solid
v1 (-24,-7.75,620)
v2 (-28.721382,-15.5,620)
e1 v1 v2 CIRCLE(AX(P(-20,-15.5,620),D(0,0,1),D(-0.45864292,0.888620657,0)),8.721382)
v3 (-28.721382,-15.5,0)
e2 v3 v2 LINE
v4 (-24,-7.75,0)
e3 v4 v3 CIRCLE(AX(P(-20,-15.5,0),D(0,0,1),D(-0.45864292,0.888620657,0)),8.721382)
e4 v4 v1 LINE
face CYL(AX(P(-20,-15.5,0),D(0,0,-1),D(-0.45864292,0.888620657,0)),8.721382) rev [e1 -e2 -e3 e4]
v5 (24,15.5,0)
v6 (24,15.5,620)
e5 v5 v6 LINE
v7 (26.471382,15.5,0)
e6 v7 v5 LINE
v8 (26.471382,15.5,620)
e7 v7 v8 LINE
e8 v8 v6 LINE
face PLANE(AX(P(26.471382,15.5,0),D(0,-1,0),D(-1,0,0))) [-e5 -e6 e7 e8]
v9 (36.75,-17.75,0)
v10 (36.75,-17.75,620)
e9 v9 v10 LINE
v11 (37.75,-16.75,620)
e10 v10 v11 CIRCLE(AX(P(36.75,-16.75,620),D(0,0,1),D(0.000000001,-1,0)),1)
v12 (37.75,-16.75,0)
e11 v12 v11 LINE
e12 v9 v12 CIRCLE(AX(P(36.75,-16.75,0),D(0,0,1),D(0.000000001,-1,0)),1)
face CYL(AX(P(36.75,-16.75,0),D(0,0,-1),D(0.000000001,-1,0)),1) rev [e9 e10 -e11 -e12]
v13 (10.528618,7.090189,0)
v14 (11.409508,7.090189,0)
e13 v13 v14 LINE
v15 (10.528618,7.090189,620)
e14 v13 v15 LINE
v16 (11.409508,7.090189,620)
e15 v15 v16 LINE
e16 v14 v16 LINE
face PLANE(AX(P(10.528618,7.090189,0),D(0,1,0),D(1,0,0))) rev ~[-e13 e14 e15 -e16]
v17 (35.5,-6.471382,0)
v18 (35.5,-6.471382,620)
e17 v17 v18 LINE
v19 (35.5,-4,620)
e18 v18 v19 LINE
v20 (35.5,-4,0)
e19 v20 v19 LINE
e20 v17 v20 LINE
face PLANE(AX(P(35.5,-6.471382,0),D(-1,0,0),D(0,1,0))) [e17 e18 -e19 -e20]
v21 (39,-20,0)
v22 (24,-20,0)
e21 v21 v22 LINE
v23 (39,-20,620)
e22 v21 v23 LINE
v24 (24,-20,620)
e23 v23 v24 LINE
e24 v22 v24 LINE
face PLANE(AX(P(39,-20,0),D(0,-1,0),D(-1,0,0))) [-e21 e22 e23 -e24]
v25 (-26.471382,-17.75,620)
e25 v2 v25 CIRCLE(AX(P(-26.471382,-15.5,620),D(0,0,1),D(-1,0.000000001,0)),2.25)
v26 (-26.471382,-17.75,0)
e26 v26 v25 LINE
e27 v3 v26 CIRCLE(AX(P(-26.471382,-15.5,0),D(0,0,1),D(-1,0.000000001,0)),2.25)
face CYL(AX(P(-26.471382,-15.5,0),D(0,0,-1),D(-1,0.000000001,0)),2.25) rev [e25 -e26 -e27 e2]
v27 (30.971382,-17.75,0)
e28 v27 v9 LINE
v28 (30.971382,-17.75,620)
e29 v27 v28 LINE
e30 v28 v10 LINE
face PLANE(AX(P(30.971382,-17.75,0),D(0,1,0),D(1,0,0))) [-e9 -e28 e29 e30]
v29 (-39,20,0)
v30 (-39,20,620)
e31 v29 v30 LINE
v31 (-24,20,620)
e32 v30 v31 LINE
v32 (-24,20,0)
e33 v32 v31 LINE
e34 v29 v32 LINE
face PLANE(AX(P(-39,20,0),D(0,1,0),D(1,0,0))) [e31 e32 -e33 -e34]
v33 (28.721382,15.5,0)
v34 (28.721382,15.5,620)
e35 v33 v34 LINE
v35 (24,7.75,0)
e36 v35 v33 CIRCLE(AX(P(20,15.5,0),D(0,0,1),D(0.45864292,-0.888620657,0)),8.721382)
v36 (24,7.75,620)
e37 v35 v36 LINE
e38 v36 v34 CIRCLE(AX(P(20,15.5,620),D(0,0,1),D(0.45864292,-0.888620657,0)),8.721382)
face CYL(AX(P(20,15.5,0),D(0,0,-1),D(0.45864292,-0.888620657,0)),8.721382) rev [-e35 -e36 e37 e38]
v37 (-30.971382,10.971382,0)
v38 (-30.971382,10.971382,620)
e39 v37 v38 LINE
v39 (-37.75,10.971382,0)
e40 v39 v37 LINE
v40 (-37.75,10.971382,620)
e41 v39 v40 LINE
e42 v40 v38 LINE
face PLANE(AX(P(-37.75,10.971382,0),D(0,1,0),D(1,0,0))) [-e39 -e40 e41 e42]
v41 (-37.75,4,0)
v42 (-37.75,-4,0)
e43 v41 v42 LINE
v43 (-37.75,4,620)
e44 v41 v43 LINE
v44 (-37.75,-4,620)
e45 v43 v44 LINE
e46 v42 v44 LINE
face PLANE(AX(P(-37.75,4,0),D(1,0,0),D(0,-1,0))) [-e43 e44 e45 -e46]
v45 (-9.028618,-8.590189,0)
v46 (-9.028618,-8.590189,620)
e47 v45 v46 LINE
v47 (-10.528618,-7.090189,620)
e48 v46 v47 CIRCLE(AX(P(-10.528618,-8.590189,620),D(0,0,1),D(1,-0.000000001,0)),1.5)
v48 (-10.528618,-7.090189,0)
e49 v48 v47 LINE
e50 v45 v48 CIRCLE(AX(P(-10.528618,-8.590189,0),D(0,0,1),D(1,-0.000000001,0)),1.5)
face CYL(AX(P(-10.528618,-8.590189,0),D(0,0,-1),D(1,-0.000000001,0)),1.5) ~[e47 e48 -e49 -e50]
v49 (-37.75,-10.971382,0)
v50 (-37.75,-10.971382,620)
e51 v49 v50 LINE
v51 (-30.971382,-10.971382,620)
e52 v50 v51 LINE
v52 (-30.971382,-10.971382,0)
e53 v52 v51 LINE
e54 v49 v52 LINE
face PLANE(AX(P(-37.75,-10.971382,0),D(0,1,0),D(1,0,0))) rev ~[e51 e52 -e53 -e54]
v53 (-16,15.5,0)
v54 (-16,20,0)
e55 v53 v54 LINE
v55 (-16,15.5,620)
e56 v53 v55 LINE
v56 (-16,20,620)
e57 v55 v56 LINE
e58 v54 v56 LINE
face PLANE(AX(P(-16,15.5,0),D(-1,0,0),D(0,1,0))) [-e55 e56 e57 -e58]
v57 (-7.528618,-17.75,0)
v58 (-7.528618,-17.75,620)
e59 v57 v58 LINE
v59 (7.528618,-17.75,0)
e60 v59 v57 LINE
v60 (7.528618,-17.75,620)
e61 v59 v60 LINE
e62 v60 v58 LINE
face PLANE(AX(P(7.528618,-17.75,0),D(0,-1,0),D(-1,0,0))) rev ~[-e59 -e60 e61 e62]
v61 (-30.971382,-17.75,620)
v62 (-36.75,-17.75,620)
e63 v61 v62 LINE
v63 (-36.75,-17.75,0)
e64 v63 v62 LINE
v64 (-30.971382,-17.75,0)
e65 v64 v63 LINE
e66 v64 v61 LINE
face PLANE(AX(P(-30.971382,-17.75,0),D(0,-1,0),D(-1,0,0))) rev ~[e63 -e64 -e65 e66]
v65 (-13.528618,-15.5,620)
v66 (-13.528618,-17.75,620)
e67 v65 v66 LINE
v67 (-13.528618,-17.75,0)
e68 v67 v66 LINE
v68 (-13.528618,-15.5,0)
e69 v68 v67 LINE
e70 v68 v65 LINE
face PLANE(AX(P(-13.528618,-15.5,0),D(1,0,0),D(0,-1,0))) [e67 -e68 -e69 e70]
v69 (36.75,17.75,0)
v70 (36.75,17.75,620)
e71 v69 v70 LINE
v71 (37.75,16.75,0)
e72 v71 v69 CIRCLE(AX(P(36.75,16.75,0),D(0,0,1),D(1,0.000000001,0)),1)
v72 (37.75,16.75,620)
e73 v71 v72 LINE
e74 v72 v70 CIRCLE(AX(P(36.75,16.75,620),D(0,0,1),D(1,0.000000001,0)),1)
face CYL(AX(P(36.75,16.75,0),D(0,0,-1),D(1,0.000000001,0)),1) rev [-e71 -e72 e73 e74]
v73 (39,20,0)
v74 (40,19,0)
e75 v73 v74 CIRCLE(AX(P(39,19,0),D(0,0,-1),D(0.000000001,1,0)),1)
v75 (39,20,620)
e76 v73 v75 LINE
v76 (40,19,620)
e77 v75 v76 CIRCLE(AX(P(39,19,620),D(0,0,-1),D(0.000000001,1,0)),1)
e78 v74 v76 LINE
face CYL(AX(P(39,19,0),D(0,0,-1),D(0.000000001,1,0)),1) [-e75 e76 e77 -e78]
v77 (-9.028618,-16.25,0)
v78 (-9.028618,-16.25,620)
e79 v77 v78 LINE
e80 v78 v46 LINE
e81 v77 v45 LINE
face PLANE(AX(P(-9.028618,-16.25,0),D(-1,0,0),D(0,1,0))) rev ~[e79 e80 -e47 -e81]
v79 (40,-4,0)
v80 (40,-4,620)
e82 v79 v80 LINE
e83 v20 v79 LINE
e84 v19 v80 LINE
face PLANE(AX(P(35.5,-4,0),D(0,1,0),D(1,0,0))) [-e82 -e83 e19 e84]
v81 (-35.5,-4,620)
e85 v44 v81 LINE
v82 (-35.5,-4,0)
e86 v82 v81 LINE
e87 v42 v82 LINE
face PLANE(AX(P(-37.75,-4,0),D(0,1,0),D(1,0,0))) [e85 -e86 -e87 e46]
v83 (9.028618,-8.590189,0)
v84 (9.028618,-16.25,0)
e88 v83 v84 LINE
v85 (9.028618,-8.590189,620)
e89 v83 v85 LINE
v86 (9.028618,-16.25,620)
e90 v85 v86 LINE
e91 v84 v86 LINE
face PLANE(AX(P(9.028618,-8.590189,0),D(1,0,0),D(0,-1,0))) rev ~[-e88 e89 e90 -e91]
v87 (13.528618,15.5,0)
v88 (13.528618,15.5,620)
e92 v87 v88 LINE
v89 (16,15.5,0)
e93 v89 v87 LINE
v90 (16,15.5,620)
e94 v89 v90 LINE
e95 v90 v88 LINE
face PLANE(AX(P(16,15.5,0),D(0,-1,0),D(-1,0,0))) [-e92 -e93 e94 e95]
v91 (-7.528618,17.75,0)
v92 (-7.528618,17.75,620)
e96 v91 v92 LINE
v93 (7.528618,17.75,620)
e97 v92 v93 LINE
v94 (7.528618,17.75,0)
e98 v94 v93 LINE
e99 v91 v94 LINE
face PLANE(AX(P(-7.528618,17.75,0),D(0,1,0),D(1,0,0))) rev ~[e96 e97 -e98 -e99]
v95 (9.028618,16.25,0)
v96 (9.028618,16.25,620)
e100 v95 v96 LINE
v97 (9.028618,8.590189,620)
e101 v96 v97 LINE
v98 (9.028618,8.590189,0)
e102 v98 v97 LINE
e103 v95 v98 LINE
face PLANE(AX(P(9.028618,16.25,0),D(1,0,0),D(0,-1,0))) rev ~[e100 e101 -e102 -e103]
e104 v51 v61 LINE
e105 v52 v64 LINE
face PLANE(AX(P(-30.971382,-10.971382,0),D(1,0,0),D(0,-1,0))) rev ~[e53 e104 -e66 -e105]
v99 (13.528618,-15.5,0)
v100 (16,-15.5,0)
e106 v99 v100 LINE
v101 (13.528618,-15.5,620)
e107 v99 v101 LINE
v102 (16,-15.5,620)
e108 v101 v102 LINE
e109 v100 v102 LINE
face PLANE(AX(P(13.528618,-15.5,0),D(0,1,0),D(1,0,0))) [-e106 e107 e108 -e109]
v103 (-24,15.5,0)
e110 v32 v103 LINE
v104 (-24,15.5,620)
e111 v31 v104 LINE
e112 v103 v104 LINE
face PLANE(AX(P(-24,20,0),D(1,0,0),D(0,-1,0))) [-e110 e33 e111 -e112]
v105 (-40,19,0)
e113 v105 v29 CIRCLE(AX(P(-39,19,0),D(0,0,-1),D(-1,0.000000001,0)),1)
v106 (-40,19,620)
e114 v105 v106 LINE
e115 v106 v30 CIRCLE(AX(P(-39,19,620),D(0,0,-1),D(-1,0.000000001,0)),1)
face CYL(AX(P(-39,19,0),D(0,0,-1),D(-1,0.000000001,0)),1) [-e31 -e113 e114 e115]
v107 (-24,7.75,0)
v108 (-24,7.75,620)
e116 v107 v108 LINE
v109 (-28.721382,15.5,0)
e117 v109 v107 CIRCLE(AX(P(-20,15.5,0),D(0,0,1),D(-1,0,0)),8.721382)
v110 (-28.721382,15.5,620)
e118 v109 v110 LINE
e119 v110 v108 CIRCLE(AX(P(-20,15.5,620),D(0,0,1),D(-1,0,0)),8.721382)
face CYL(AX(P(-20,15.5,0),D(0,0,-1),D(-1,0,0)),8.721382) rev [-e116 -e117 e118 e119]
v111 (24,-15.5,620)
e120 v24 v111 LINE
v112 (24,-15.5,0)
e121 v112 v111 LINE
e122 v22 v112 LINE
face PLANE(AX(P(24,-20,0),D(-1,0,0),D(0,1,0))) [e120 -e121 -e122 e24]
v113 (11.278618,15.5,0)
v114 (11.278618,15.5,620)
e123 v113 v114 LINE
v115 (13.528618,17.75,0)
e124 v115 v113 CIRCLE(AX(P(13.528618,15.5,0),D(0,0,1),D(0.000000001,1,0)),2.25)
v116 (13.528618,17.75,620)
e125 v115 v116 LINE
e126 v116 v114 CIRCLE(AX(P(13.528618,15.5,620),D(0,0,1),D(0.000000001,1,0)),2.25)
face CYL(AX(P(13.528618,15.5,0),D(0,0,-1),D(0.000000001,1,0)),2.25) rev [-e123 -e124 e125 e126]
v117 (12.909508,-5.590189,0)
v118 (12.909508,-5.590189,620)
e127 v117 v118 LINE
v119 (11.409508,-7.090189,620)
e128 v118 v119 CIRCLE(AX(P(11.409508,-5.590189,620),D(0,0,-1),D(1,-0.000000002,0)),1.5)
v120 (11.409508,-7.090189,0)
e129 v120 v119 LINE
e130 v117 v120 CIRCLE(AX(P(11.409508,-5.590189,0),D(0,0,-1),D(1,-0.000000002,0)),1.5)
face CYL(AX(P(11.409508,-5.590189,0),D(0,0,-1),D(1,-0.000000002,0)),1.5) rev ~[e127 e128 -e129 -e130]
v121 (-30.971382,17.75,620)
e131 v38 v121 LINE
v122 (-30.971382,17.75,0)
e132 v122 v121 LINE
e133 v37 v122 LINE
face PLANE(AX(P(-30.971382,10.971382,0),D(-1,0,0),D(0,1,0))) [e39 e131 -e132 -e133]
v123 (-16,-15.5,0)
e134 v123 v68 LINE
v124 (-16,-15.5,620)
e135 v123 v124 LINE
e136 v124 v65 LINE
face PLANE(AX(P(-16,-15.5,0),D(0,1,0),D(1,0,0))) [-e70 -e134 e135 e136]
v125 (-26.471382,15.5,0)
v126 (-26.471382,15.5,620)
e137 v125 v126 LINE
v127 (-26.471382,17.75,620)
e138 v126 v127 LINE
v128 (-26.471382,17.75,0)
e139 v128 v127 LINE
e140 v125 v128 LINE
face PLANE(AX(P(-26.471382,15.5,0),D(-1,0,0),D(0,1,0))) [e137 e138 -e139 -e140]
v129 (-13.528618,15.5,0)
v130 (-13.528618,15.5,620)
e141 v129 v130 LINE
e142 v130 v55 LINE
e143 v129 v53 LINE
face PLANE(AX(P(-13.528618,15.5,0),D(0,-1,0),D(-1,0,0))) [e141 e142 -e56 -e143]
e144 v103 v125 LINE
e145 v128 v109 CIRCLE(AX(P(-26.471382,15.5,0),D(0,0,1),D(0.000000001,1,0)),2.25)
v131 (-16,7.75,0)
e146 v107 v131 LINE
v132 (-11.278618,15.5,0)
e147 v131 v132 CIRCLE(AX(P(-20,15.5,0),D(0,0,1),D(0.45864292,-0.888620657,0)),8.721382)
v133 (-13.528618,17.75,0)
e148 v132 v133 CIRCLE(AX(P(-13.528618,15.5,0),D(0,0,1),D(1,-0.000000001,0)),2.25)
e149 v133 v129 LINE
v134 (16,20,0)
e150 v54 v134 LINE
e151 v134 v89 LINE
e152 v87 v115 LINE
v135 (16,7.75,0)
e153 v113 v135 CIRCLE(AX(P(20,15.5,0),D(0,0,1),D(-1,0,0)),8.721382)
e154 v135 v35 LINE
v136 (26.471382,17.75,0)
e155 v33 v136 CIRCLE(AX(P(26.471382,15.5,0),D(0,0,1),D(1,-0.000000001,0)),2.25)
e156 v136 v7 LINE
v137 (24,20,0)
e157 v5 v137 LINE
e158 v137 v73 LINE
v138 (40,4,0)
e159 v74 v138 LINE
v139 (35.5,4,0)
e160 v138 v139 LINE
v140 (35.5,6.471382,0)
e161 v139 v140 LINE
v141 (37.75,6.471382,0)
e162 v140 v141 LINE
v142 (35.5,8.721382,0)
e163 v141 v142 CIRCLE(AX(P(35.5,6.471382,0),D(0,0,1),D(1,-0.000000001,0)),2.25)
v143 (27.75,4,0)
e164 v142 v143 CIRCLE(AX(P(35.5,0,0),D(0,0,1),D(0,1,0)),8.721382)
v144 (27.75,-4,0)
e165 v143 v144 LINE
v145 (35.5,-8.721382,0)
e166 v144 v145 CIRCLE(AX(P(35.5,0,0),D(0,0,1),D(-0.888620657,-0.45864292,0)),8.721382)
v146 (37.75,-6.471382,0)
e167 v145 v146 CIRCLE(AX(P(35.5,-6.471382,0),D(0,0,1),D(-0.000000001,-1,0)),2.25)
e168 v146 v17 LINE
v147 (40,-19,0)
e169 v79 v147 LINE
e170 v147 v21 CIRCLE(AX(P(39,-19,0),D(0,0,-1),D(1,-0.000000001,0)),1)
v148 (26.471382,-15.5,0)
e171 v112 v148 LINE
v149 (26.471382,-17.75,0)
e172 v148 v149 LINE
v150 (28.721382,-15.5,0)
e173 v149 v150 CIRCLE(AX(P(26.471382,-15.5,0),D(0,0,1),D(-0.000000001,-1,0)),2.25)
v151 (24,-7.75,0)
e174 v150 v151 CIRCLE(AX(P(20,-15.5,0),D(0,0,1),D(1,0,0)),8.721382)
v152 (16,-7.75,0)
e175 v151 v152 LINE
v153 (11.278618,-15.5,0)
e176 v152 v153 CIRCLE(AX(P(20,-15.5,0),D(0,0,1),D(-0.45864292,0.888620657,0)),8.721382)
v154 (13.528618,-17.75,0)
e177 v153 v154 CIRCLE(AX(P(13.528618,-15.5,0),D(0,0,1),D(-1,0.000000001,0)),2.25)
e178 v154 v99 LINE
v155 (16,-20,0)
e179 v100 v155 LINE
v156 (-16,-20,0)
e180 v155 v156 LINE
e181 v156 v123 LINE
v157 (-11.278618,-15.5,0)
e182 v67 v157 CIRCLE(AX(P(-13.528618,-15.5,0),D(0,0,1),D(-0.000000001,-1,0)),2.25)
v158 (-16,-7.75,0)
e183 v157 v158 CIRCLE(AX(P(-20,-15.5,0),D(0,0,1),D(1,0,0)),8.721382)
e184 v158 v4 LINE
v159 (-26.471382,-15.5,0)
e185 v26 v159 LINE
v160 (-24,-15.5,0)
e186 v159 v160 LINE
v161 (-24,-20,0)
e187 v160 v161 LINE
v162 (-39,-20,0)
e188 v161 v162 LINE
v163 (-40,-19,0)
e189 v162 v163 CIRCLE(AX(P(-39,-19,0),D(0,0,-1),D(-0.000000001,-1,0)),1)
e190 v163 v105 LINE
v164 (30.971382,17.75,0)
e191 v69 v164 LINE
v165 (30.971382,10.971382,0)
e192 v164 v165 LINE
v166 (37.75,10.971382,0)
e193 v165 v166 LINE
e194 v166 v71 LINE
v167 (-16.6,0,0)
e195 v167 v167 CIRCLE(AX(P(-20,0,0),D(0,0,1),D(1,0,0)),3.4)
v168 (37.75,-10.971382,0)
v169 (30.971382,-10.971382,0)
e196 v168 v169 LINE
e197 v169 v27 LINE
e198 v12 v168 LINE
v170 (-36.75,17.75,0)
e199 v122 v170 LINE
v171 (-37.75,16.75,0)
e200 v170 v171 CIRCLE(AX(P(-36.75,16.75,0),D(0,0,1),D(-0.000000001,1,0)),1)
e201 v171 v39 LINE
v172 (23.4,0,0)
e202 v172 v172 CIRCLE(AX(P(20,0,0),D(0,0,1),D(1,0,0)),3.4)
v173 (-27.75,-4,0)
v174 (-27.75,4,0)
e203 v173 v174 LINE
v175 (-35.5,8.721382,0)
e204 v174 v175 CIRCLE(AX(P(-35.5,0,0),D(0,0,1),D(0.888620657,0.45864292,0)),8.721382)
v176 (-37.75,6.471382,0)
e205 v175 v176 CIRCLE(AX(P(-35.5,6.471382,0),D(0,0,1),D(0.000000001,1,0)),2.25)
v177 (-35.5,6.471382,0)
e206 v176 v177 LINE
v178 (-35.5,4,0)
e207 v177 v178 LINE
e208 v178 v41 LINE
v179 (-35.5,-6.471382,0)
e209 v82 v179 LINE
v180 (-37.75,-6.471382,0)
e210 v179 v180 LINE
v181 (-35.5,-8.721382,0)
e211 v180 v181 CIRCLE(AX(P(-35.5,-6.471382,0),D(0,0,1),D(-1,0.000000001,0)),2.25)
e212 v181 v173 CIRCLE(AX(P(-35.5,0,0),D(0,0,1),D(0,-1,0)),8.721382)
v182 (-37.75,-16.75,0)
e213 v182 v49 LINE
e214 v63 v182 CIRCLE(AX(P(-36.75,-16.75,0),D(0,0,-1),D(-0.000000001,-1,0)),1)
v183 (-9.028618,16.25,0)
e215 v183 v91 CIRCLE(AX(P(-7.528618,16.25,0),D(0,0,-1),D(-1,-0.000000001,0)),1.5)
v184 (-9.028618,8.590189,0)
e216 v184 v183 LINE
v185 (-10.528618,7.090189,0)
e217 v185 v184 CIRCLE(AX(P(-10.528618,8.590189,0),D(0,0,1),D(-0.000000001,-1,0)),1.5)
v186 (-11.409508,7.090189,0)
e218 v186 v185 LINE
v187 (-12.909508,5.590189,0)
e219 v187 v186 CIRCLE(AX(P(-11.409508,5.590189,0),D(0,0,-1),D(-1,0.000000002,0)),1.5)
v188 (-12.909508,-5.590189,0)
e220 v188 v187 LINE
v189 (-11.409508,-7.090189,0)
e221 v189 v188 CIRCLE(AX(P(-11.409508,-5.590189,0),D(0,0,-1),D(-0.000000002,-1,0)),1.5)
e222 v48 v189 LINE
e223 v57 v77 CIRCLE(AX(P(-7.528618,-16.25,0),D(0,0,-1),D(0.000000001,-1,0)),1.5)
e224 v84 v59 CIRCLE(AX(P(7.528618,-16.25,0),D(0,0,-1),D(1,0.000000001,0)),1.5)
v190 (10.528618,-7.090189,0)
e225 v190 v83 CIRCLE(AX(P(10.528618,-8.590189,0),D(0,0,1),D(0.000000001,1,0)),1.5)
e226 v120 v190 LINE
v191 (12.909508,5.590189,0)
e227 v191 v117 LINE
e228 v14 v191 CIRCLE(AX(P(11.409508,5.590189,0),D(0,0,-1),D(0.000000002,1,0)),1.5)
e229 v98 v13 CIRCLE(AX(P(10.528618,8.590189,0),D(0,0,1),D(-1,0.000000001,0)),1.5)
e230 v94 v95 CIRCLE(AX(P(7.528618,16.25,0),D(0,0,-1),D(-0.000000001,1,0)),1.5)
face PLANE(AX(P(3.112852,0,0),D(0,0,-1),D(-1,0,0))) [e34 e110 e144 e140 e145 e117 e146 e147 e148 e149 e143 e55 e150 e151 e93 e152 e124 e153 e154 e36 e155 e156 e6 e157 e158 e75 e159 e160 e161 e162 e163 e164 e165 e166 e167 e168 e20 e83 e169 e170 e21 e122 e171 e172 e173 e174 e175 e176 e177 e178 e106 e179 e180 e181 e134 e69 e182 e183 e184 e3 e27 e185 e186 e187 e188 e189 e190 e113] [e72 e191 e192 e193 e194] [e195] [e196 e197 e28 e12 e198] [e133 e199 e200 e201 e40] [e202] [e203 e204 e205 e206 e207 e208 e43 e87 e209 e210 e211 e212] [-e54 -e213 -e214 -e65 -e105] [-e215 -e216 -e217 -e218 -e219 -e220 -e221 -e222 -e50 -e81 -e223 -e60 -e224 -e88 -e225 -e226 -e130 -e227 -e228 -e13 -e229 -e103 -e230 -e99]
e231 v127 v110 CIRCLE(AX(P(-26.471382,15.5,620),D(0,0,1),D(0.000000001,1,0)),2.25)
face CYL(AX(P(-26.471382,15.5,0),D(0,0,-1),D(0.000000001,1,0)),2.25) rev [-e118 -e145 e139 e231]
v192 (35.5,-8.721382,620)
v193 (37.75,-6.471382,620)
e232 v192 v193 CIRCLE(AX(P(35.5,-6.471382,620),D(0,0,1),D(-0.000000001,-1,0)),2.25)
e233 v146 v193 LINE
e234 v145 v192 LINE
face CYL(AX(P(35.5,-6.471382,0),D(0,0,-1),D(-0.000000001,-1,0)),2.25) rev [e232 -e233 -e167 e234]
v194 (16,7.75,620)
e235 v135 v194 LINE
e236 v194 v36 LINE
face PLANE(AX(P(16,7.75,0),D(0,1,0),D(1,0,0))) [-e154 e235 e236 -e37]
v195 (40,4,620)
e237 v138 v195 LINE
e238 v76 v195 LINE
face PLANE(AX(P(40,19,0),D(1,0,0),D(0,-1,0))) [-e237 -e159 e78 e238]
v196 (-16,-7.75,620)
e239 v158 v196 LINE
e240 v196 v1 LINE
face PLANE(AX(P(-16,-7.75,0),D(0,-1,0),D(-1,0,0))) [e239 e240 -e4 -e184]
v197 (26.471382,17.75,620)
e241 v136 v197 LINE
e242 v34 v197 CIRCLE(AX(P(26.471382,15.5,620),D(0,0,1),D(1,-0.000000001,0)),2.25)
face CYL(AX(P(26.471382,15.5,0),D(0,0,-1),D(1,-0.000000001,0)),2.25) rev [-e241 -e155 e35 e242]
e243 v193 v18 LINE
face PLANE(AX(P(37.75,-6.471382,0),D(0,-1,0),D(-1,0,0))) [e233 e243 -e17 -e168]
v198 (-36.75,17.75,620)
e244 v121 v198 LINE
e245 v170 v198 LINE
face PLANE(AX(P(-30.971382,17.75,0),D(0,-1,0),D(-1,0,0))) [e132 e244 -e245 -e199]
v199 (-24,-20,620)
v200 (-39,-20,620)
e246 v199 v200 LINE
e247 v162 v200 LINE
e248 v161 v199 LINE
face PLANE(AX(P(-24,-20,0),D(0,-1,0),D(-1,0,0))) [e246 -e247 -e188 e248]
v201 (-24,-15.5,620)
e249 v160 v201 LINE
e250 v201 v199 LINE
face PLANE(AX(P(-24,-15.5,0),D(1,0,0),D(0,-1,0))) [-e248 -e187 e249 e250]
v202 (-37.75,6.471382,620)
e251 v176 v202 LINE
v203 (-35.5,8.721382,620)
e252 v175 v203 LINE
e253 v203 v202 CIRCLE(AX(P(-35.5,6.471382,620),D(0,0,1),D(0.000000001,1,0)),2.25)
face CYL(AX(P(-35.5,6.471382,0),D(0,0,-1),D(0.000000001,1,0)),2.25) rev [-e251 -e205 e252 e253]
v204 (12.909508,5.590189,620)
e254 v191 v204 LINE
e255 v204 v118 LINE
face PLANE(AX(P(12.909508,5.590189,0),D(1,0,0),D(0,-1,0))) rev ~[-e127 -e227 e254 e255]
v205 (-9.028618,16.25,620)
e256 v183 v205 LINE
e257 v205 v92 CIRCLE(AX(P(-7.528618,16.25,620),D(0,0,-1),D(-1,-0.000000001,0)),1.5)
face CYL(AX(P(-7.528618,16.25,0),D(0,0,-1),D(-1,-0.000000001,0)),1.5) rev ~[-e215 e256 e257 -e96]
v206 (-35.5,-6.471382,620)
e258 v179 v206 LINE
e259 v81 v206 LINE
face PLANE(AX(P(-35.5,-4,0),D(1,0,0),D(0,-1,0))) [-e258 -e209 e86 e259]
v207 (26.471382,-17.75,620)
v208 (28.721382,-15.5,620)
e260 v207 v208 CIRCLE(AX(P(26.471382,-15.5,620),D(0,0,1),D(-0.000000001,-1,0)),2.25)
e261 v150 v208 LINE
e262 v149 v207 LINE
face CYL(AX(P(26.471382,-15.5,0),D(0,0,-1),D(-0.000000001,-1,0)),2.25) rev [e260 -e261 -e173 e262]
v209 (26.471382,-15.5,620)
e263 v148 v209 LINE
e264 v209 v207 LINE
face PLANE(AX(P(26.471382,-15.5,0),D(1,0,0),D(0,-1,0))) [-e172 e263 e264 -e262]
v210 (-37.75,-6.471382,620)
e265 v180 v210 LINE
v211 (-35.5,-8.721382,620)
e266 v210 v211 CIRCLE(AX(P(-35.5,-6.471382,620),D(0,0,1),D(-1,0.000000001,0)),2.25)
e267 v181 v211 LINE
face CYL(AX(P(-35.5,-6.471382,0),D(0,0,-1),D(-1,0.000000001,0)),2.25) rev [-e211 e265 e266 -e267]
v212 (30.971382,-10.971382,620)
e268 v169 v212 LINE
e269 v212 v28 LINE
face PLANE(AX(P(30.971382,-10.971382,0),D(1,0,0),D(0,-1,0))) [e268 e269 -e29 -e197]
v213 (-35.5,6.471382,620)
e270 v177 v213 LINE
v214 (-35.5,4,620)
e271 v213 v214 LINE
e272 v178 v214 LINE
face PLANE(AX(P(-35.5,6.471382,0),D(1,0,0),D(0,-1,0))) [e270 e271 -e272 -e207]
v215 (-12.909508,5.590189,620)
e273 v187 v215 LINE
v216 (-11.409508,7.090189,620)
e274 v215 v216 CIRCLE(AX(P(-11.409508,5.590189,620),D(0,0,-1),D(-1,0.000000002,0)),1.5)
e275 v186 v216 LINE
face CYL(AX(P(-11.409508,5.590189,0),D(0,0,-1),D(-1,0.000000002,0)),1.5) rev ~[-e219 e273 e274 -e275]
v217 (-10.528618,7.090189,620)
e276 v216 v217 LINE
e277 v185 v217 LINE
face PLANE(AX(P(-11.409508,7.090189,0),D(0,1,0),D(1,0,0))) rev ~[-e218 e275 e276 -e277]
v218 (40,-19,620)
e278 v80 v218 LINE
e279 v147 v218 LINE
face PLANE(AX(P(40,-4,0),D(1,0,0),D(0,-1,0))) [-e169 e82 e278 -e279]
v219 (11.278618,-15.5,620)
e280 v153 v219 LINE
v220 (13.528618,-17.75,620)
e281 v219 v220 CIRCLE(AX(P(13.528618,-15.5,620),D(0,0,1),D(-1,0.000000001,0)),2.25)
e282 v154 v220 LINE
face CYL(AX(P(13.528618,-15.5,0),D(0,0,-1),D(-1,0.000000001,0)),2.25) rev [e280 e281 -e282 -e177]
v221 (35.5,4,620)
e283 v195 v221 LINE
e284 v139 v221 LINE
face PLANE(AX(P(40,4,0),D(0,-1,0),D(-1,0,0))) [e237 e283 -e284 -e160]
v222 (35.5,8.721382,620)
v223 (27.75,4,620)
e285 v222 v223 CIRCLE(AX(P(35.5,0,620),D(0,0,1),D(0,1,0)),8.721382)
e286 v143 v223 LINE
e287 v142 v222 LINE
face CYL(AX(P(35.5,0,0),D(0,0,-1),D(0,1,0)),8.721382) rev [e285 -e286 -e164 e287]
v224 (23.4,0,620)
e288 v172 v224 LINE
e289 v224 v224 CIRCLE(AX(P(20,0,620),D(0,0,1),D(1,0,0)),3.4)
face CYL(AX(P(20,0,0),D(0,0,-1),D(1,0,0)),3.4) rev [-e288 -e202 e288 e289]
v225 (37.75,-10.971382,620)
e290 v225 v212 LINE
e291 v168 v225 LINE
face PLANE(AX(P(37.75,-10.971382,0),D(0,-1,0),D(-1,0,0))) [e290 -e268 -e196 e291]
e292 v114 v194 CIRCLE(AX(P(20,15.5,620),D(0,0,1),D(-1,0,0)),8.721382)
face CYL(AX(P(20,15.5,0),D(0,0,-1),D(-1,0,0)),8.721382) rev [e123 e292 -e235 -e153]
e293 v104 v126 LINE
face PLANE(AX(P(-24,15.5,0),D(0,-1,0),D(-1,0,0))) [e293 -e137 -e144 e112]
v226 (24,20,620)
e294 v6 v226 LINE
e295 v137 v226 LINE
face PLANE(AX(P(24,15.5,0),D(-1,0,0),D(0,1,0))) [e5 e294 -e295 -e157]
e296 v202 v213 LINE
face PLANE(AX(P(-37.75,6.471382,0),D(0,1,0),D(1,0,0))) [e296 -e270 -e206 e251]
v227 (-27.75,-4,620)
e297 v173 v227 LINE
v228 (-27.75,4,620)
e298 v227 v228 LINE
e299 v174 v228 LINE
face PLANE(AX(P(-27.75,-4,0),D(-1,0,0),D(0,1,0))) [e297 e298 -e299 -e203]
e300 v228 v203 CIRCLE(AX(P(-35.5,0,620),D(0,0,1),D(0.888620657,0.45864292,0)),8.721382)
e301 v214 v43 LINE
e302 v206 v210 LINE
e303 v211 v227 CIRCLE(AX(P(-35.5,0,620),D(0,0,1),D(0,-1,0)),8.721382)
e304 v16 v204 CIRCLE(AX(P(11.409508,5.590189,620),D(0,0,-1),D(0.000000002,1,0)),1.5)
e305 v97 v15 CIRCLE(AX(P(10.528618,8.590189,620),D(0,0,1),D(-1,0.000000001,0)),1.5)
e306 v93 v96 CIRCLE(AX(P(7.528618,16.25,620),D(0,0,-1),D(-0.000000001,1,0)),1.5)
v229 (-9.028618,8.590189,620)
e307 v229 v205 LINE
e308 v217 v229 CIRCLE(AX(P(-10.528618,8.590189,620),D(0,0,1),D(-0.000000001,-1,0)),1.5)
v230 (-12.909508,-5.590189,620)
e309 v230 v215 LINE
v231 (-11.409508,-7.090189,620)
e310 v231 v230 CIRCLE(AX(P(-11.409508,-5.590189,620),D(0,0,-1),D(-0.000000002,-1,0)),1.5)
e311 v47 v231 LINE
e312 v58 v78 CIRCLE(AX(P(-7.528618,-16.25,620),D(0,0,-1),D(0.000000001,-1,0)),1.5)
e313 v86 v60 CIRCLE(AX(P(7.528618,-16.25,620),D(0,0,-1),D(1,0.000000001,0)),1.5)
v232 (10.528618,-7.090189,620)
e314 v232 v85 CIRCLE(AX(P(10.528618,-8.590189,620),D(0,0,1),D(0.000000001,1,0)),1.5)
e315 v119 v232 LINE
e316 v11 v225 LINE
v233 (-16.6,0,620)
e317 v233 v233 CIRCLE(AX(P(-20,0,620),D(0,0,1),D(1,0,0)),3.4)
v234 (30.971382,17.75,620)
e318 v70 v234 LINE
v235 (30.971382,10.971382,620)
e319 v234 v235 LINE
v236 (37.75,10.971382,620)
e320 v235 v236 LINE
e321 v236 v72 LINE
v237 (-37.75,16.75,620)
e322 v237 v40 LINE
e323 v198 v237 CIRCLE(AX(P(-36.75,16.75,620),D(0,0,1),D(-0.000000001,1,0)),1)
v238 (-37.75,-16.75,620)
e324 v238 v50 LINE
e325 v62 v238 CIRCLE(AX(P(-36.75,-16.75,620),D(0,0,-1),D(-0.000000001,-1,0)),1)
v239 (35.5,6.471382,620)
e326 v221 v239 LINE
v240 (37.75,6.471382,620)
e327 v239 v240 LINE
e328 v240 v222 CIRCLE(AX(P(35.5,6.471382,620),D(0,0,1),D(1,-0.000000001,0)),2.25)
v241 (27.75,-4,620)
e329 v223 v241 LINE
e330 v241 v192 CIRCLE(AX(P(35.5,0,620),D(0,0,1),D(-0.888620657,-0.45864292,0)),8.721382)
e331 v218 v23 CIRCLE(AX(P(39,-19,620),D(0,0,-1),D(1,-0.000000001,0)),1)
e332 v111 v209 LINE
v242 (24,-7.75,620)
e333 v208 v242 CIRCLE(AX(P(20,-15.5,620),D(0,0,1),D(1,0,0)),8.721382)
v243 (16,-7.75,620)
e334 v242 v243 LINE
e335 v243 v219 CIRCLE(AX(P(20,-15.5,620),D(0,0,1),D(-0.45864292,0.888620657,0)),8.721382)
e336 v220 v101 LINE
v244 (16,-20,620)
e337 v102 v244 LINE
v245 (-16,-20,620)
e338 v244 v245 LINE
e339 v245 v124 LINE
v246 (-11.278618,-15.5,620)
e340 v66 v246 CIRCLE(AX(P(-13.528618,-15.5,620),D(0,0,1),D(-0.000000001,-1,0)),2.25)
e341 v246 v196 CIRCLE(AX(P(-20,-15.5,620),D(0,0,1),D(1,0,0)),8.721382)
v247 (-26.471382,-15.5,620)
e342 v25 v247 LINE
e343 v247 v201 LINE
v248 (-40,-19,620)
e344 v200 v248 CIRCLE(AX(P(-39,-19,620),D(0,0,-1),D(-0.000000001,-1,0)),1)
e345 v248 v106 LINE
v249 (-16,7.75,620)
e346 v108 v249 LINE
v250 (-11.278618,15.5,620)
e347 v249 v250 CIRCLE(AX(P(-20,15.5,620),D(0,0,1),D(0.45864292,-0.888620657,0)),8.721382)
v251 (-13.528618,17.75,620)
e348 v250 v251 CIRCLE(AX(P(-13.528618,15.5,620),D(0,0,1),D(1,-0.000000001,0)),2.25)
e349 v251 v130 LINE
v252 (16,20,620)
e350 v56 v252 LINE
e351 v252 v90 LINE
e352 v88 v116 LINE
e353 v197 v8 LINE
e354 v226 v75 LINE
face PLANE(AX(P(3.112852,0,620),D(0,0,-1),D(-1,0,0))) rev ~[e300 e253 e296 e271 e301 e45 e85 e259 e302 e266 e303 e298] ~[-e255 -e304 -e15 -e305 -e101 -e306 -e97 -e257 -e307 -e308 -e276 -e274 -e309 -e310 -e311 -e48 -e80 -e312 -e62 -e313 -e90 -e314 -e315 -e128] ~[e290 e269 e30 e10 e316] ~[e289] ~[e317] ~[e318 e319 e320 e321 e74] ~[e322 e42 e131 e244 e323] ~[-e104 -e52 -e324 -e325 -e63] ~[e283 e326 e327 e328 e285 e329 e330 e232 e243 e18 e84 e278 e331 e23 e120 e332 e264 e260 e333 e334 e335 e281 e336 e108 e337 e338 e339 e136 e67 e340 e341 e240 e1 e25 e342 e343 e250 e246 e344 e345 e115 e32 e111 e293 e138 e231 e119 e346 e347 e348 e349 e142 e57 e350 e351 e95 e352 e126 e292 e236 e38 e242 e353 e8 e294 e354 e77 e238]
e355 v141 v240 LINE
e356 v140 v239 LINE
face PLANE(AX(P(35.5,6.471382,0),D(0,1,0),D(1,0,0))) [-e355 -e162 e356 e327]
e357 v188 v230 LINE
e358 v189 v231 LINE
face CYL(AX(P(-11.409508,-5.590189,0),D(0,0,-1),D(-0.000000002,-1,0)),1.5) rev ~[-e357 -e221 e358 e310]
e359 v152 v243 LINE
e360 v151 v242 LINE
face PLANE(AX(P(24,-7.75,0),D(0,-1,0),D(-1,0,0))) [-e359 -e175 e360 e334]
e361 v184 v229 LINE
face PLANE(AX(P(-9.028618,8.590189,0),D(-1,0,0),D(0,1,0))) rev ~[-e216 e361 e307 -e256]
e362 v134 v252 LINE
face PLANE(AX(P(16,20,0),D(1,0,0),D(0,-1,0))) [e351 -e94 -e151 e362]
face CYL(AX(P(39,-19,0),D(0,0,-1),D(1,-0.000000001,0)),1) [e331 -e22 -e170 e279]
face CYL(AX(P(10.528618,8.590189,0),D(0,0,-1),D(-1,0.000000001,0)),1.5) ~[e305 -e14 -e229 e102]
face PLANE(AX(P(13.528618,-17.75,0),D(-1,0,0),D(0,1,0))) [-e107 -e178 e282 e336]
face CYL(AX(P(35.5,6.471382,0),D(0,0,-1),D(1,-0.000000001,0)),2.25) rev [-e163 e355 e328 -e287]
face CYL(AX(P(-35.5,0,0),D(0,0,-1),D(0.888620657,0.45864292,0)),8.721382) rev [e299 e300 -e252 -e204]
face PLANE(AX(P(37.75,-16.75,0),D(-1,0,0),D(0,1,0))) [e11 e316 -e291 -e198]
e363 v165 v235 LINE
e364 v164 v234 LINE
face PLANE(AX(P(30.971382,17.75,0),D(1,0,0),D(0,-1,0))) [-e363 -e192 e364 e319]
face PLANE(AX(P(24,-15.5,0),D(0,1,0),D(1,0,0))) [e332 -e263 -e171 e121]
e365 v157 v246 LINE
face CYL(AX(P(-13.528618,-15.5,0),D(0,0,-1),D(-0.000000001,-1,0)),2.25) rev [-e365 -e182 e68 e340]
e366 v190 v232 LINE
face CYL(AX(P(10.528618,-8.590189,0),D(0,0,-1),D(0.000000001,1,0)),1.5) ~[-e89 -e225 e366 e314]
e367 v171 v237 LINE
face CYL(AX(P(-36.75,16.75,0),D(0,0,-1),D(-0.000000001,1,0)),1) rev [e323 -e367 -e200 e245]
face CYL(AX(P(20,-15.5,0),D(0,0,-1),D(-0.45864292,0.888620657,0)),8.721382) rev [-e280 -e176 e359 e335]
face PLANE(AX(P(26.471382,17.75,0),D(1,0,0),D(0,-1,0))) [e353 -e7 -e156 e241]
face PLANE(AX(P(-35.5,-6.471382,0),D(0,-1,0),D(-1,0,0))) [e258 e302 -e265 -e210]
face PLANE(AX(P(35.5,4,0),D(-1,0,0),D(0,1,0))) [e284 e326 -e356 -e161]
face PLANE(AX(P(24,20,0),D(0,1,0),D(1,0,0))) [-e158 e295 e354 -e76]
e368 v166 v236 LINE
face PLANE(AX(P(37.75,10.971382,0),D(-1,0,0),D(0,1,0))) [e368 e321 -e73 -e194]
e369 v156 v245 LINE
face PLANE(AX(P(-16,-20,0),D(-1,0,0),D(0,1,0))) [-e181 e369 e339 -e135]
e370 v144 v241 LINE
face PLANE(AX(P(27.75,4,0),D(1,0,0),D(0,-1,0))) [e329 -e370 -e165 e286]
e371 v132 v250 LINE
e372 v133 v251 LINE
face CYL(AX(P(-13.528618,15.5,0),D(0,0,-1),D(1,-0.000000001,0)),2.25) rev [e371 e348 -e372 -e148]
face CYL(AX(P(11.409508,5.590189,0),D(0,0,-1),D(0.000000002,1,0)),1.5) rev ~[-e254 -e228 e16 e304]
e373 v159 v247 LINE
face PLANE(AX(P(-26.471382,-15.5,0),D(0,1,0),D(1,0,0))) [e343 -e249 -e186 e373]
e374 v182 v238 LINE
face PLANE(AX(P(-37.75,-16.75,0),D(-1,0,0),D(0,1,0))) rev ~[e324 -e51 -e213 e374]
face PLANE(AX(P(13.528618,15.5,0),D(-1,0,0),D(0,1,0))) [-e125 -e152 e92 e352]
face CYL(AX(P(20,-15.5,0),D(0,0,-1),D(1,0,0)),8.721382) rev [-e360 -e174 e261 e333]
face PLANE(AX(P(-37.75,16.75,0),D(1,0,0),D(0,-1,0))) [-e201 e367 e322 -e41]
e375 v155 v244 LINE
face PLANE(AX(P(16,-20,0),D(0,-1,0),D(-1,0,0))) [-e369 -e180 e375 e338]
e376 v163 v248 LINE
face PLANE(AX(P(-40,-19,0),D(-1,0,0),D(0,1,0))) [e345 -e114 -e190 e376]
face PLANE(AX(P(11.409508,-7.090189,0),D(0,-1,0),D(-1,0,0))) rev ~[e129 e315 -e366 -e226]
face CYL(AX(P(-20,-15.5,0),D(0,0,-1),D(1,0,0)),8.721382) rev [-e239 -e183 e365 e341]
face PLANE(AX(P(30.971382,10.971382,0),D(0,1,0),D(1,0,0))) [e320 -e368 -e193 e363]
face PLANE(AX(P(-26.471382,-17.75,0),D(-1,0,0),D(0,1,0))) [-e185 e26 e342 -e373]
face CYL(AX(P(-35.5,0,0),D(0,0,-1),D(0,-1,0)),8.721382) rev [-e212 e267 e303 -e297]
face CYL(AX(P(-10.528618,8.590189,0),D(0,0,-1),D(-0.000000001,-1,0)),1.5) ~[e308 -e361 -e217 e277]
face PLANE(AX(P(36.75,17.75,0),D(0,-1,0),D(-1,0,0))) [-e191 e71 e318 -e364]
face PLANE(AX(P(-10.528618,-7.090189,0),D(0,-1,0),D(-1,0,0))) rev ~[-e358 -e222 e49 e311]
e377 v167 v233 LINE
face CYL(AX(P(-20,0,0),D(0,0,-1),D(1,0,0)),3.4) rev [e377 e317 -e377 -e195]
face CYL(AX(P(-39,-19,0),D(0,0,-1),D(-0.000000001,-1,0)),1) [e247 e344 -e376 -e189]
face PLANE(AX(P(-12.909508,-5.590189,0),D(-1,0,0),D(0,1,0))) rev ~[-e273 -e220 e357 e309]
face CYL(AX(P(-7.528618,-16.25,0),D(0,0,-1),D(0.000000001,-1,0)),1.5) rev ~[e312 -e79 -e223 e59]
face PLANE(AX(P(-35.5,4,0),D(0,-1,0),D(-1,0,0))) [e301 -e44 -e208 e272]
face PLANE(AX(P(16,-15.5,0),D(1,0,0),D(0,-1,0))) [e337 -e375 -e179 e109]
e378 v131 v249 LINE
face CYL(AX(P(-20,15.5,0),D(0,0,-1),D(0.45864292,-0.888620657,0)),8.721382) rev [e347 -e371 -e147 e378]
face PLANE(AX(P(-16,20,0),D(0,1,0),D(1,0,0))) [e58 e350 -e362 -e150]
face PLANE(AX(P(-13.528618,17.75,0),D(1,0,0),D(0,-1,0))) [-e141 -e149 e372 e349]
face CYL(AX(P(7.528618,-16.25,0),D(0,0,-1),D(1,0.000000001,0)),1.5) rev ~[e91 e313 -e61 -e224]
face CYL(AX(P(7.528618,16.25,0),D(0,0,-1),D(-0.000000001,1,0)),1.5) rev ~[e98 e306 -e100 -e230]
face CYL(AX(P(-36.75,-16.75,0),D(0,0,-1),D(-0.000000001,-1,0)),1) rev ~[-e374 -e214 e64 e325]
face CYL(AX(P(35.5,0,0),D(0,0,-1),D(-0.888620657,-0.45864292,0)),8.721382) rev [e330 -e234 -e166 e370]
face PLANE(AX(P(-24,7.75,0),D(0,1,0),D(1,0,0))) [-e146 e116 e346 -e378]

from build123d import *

# Parameters (mm, degrees)
SZKIC1_R                    = 3.4
DODANIE_WYCI_GNI_CIE1_DEPTH = 620


with BuildPart() as part:
    # Szkic1 → Dodanie-wyciągnięcie1 (new body)
    with BuildSketch(Plane.XY):
        with BuildLine():
            Line((-40, -19), (-40, 19))
            ThreePointArc((-40, 19), (-39.707106781, 19.707106781), (-39, 20))
            Line((-39, 20), (-24, 20))
            Line((-24, 20), (-24, 15.5))
            Line((-24, 15.5), (-26.471381771, 15.5))
            Line((-26.471381771, 15.5), (-26.471381771, 17.75))
            ThreePointArc((-26.471381771, 17.75), (-28.062372029, 17.090990258), (-28.721381771, 15.5))
            ThreePointArc((-28.721381771, 15.5), (-27.448087912, 10.962546258), (-24, 7.75))
            Line((-24, 7.75), (-16, 7.75))
            ThreePointArc((-16, 7.75), (-12.551912088, 10.962546258), (-11.278618229, 15.5))
            ThreePointArc((-11.278618229, 15.5), (-11.937627971, 17.090990258), (-13.528618229, 17.75))
            Line((-13.528618229, 17.75), (-13.528618229, 15.5))
            Line((-13.528618229, 15.5), (-16, 15.5))
            Line((-16, 15.5), (-16, 20))
            Line((-16, 20), (13.528618229, 20))
            Line((13.528618229, 20), (16, 20))
            Line((16, 20), (16, 15.5))
            Line((16, 15.5), (13.528618229, 15.5))
            Line((13.528618229, 15.5), (13.528618229, 17.75))
            ThreePointArc((13.528618229, 17.75), (11.937627971, 17.090990258), (11.278618229, 15.5))
            ThreePointArc((11.278618229, 15.5), (12.551912088, 10.962546258), (16, 7.75))
            Line((16, 7.75), (24, 7.75))
            ThreePointArc((24, 7.75), (27.448087912, 10.962546258), (28.721381771, 15.5))
            ThreePointArc((28.721381771, 15.5), (28.062372029, 17.090990258), (26.471381771, 17.75))
            Line((26.471381771, 17.75), (26.471381771, 15.5))
            Line((26.471381771, 15.5), (24, 15.5))
            Line((24, 15.5), (24, 20))
            Line((24, 20), (39, 20))
            ThreePointArc((39, 20), (39.707106781, 19.707106781), (40, 19))
            Line((40, 19), (40, 4))
            Line((40, 4), (35.5, 4))
            Line((35.5, 4), (35.5, 6.471381771))
            Line((35.5, 6.471381771), (37.75, 6.471381771))
            ThreePointArc((37.75, 6.471381771), (37.090990258, 8.062372029), (35.5, 8.721381771))
            ThreePointArc((35.5, 8.721381771), (30.962546258, 7.448087912), (27.75, 4))
            Line((27.75, 4), (27.75, -4))
            ThreePointArc((27.75, -4), (30.962546258, -7.448087912), (35.5, -8.721381771))
            ThreePointArc((35.5, -8.721381771), (37.090990258, -8.062372029), (37.75, -6.471381771))
            Line((37.75, -6.471381771), (35.5, -6.471381771))
            Line((35.5, -6.471381771), (35.5, -4))
            Line((35.5, -4), (40, -4))
            Line((40, -4), (40, -19))
            ThreePointArc((40, -19), (39.707106781, -19.707106781), (39, -20))
            Line((39, -20), (24, -20))
            Line((24, -20), (24, -15.5))
            Line((24, -15.5), (26.471381771, -15.5))
            Line((26.471381771, -15.5), (26.471381771, -17.75))
            ThreePointArc((26.471381771, -17.75), (28.062372029, -17.090990258), (28.721381771, -15.5))
            ThreePointArc((28.721381771, -15.5), (27.448087912, -10.962546258), (24, -7.75))
            Line((24, -7.75), (16, -7.75))
            ThreePointArc((16, -7.75), (12.551912088, -10.962546258), (11.278618229, -15.5))
            ThreePointArc((11.278618229, -15.5), (11.937627971, -17.090990258), (13.528618229, -17.75))
            Line((13.528618229, -17.75), (13.528618229, -15.5))
            Line((13.528618229, -15.5), (16, -15.5))
            Line((16, -15.5), (16, -20))
            Line((16, -20), (-16, -20))
            Line((-16, -20), (-16, -15.5))
            Line((-16, -15.5), (-13.528618229, -15.5))
            Line((-13.528618229, -15.5), (-13.528618229, -17.75))
            ThreePointArc((-13.528618229, -17.75), (-11.937627971, -17.090990258), (-11.278618229, -15.5))
            ThreePointArc((-11.278618229, -15.5), (-12.551912088, -10.962546258), (-16, -7.75))
            Line((-16, -7.75), (-24, -7.75))
            ThreePointArc((-24, -7.75), (-27.448087912, -10.962546258), (-28.721381771, -15.5))
            ThreePointArc((-28.721381771, -15.5), (-28.062372029, -17.090990258), (-26.471381771, -17.75))
            Line((-26.471381771, -17.75), (-26.471381771, -15.5))
            Line((-26.471381771, -15.5), (-24, -15.5))
            Line((-24, -15.5), (-24, -20))
            Line((-24, -20), (-39, -20))
            ThreePointArc((-39, -20), (-39.707106781, -19.707106781), (-40, -19))
        make_face()
        with Locations((-20, 0)):
            Circle(SZKIC1_R, mode=Mode.SUBTRACT)
        with Locations((20, 0)):
            Circle(SZKIC1_R, mode=Mode.SUBTRACT)
        with BuildLine():
            Line((30.971381771, -17.75), (36.75, -17.75))
            ThreePointArc((36.75, -17.75), (37.457106781, -17.457106781), (37.75, -16.75))
            Line((37.75, -16.75), (37.75, -10.971381771))
            Line((37.75, -10.971381771), (30.971381771, -10.971381771))
            Line((30.971381771, -10.971381771), (30.971381771, -17.75))
        make_face(mode=Mode.SUBTRACT)
        with BuildLine():
            Line((-35.5, -6.471381771), (-37.75, -6.471381771))
            ThreePointArc((-37.75, -6.471381771), (-37.090990258, -8.062372029), (-35.5, -8.721381771))
            ThreePointArc((-35.5, -8.721381771), (-30.962546258, -7.448087912), (-27.75, -4))
            Line((-27.75, -4), (-27.75, 4))
            ThreePointArc((-27.75, 4), (-30.962546258, 7.448087912), (-35.5, 8.721381771))
            ThreePointArc((-35.5, 8.721381771), (-37.090990258, 8.062372029), (-37.75, 6.471381771))
            Line((-37.75, 6.471381771), (-35.5, 6.471381771))
            Line((-35.5, 6.471381771), (-35.5, 4))
            Line((-35.5, 4), (-37.75, 4))
            Line((-37.75, 4), (-37.75, -4))
            Line((-37.75, -4), (-35.5, -4))
            Line((-35.5, -4), (-35.5, -6.471381771))
        make_face(mode=Mode.SUBTRACT)
        with BuildLine():
            Line((10.528618229, 7.090188806), (11.40950808, 7.090188806))
            ThreePointArc((11.40950808, 7.090188806), (12.470168251, 6.650848977), (12.90950808, 5.590188806))
            Line((12.90950808, 5.590188806), (12.90950808, -5.590188806))
            ThreePointArc((12.90950808, -5.590188806), (12.470168251, -6.650848977), (11.40950808, -7.090188806))
            Line((11.40950808, -7.090188806), (10.528618229, -7.090188806))
            ThreePointArc((10.528618229, -7.090188806), (9.467958057, -7.529528634), (9.028618229, -8.590188806))
            Line((9.028618229, -8.590188806), (9.028618229, -16.25))
            ThreePointArc((9.028618229, -16.25), (8.589278401, -17.310660172), (7.528618229, -17.75))
            Line((7.528618229, -17.75), (-7.528618229, -17.75))
            ThreePointArc((-7.528618229, -17.75), (-8.589278401, -17.310660172), (-9.028618229, -16.25))
            Line((-9.028618229, -16.25), (-9.028618229, -8.590188806))
            ThreePointArc((-9.028618229, -8.590188806), (-9.467958057, -7.529528634), (-10.528618229, -7.090188806))
            Line((-10.528618229, -7.090188806), (-11.40950808, -7.090188806))
            ThreePointArc((-11.40950808, -7.090188806), (-12.470168251, -6.650848977), (-12.90950808, -5.590188806))
            Line((-12.90950808, -5.590188806), (-12.90950808, 5.590188806))
            ThreePointArc((-12.90950808, 5.590188806), (-12.470168251, 6.650848977), (-11.40950808, 7.090188806))
            Line((-11.40950808, 7.090188806), (-10.528618229, 7.090188806))
            ThreePointArc((-10.528618229, 7.090188806), (-9.467958057, 7.529528634), (-9.028618229, 8.590188806))
            Line((-9.028618229, 8.590188806), (-9.028618229, 16.25))
            ThreePointArc((-9.028618229, 16.25), (-8.589278401, 17.310660172), (-7.528618229, 17.75))
            Line((-7.528618229, 17.75), (7.528618229, 17.75))
            ThreePointArc((7.528618229, 17.75), (8.589278401, 17.310660172), (9.028618229, 16.25))
            Line((9.028618229, 16.25), (9.028618229, 8.590188806))
            ThreePointArc((9.028618229, 8.590188806), (9.467958057, 7.529528634), (10.528618229, 7.090188806))
        make_face(mode=Mode.SUBTRACT)
        with BuildLine():
            Line((30.971381771, 10.971381771), (37.75, 10.971381771))
            Line((37.75, 10.971381771), (37.75, 16.75))
            ThreePointArc((37.75, 16.75), (37.457106781, 17.457106781), (36.75, 17.75))
            Line((36.75, 17.75), (30.971381771, 17.75))
            Line((30.971381771, 17.75), (30.971381771, 10.971381771))
        make_face(mode=Mode.SUBTRACT)
        with BuildLine():
            Line((-30.971381771, -10.971381771), (-30.971381771, -17.75))
            Line((-30.971381771, -17.75), (-36.75, -17.75))
            ThreePointArc((-36.75, -17.75), (-37.457106781, -17.457106781), (-37.75, -16.75))
            Line((-37.75, -16.75), (-37.75, -10.971381771))
            Line((-37.75, -10.971381771), (-30.971381771, -10.971381771))
        make_face(mode=Mode.SUBTRACT)
        with BuildLine():
            Line((-30.971381771, 17.75), (-36.75, 17.75))
            ThreePointArc((-36.75, 17.75), (-37.457106781, 17.457106781), (-37.75, 16.75))
            Line((-37.75, 16.75), (-37.75, 10.971381771))
            Line((-37.75, 10.971381771), (-30.971381771, 10.971381771))
            Line((-30.971381771, 10.971381771), (-30.971381771, 17.75))
        make_face(mode=Mode.SUBTRACT)
    extrude(amount=DODANIE_WYCI_GNI_CIE1_DEPTH)


solid = part.part
